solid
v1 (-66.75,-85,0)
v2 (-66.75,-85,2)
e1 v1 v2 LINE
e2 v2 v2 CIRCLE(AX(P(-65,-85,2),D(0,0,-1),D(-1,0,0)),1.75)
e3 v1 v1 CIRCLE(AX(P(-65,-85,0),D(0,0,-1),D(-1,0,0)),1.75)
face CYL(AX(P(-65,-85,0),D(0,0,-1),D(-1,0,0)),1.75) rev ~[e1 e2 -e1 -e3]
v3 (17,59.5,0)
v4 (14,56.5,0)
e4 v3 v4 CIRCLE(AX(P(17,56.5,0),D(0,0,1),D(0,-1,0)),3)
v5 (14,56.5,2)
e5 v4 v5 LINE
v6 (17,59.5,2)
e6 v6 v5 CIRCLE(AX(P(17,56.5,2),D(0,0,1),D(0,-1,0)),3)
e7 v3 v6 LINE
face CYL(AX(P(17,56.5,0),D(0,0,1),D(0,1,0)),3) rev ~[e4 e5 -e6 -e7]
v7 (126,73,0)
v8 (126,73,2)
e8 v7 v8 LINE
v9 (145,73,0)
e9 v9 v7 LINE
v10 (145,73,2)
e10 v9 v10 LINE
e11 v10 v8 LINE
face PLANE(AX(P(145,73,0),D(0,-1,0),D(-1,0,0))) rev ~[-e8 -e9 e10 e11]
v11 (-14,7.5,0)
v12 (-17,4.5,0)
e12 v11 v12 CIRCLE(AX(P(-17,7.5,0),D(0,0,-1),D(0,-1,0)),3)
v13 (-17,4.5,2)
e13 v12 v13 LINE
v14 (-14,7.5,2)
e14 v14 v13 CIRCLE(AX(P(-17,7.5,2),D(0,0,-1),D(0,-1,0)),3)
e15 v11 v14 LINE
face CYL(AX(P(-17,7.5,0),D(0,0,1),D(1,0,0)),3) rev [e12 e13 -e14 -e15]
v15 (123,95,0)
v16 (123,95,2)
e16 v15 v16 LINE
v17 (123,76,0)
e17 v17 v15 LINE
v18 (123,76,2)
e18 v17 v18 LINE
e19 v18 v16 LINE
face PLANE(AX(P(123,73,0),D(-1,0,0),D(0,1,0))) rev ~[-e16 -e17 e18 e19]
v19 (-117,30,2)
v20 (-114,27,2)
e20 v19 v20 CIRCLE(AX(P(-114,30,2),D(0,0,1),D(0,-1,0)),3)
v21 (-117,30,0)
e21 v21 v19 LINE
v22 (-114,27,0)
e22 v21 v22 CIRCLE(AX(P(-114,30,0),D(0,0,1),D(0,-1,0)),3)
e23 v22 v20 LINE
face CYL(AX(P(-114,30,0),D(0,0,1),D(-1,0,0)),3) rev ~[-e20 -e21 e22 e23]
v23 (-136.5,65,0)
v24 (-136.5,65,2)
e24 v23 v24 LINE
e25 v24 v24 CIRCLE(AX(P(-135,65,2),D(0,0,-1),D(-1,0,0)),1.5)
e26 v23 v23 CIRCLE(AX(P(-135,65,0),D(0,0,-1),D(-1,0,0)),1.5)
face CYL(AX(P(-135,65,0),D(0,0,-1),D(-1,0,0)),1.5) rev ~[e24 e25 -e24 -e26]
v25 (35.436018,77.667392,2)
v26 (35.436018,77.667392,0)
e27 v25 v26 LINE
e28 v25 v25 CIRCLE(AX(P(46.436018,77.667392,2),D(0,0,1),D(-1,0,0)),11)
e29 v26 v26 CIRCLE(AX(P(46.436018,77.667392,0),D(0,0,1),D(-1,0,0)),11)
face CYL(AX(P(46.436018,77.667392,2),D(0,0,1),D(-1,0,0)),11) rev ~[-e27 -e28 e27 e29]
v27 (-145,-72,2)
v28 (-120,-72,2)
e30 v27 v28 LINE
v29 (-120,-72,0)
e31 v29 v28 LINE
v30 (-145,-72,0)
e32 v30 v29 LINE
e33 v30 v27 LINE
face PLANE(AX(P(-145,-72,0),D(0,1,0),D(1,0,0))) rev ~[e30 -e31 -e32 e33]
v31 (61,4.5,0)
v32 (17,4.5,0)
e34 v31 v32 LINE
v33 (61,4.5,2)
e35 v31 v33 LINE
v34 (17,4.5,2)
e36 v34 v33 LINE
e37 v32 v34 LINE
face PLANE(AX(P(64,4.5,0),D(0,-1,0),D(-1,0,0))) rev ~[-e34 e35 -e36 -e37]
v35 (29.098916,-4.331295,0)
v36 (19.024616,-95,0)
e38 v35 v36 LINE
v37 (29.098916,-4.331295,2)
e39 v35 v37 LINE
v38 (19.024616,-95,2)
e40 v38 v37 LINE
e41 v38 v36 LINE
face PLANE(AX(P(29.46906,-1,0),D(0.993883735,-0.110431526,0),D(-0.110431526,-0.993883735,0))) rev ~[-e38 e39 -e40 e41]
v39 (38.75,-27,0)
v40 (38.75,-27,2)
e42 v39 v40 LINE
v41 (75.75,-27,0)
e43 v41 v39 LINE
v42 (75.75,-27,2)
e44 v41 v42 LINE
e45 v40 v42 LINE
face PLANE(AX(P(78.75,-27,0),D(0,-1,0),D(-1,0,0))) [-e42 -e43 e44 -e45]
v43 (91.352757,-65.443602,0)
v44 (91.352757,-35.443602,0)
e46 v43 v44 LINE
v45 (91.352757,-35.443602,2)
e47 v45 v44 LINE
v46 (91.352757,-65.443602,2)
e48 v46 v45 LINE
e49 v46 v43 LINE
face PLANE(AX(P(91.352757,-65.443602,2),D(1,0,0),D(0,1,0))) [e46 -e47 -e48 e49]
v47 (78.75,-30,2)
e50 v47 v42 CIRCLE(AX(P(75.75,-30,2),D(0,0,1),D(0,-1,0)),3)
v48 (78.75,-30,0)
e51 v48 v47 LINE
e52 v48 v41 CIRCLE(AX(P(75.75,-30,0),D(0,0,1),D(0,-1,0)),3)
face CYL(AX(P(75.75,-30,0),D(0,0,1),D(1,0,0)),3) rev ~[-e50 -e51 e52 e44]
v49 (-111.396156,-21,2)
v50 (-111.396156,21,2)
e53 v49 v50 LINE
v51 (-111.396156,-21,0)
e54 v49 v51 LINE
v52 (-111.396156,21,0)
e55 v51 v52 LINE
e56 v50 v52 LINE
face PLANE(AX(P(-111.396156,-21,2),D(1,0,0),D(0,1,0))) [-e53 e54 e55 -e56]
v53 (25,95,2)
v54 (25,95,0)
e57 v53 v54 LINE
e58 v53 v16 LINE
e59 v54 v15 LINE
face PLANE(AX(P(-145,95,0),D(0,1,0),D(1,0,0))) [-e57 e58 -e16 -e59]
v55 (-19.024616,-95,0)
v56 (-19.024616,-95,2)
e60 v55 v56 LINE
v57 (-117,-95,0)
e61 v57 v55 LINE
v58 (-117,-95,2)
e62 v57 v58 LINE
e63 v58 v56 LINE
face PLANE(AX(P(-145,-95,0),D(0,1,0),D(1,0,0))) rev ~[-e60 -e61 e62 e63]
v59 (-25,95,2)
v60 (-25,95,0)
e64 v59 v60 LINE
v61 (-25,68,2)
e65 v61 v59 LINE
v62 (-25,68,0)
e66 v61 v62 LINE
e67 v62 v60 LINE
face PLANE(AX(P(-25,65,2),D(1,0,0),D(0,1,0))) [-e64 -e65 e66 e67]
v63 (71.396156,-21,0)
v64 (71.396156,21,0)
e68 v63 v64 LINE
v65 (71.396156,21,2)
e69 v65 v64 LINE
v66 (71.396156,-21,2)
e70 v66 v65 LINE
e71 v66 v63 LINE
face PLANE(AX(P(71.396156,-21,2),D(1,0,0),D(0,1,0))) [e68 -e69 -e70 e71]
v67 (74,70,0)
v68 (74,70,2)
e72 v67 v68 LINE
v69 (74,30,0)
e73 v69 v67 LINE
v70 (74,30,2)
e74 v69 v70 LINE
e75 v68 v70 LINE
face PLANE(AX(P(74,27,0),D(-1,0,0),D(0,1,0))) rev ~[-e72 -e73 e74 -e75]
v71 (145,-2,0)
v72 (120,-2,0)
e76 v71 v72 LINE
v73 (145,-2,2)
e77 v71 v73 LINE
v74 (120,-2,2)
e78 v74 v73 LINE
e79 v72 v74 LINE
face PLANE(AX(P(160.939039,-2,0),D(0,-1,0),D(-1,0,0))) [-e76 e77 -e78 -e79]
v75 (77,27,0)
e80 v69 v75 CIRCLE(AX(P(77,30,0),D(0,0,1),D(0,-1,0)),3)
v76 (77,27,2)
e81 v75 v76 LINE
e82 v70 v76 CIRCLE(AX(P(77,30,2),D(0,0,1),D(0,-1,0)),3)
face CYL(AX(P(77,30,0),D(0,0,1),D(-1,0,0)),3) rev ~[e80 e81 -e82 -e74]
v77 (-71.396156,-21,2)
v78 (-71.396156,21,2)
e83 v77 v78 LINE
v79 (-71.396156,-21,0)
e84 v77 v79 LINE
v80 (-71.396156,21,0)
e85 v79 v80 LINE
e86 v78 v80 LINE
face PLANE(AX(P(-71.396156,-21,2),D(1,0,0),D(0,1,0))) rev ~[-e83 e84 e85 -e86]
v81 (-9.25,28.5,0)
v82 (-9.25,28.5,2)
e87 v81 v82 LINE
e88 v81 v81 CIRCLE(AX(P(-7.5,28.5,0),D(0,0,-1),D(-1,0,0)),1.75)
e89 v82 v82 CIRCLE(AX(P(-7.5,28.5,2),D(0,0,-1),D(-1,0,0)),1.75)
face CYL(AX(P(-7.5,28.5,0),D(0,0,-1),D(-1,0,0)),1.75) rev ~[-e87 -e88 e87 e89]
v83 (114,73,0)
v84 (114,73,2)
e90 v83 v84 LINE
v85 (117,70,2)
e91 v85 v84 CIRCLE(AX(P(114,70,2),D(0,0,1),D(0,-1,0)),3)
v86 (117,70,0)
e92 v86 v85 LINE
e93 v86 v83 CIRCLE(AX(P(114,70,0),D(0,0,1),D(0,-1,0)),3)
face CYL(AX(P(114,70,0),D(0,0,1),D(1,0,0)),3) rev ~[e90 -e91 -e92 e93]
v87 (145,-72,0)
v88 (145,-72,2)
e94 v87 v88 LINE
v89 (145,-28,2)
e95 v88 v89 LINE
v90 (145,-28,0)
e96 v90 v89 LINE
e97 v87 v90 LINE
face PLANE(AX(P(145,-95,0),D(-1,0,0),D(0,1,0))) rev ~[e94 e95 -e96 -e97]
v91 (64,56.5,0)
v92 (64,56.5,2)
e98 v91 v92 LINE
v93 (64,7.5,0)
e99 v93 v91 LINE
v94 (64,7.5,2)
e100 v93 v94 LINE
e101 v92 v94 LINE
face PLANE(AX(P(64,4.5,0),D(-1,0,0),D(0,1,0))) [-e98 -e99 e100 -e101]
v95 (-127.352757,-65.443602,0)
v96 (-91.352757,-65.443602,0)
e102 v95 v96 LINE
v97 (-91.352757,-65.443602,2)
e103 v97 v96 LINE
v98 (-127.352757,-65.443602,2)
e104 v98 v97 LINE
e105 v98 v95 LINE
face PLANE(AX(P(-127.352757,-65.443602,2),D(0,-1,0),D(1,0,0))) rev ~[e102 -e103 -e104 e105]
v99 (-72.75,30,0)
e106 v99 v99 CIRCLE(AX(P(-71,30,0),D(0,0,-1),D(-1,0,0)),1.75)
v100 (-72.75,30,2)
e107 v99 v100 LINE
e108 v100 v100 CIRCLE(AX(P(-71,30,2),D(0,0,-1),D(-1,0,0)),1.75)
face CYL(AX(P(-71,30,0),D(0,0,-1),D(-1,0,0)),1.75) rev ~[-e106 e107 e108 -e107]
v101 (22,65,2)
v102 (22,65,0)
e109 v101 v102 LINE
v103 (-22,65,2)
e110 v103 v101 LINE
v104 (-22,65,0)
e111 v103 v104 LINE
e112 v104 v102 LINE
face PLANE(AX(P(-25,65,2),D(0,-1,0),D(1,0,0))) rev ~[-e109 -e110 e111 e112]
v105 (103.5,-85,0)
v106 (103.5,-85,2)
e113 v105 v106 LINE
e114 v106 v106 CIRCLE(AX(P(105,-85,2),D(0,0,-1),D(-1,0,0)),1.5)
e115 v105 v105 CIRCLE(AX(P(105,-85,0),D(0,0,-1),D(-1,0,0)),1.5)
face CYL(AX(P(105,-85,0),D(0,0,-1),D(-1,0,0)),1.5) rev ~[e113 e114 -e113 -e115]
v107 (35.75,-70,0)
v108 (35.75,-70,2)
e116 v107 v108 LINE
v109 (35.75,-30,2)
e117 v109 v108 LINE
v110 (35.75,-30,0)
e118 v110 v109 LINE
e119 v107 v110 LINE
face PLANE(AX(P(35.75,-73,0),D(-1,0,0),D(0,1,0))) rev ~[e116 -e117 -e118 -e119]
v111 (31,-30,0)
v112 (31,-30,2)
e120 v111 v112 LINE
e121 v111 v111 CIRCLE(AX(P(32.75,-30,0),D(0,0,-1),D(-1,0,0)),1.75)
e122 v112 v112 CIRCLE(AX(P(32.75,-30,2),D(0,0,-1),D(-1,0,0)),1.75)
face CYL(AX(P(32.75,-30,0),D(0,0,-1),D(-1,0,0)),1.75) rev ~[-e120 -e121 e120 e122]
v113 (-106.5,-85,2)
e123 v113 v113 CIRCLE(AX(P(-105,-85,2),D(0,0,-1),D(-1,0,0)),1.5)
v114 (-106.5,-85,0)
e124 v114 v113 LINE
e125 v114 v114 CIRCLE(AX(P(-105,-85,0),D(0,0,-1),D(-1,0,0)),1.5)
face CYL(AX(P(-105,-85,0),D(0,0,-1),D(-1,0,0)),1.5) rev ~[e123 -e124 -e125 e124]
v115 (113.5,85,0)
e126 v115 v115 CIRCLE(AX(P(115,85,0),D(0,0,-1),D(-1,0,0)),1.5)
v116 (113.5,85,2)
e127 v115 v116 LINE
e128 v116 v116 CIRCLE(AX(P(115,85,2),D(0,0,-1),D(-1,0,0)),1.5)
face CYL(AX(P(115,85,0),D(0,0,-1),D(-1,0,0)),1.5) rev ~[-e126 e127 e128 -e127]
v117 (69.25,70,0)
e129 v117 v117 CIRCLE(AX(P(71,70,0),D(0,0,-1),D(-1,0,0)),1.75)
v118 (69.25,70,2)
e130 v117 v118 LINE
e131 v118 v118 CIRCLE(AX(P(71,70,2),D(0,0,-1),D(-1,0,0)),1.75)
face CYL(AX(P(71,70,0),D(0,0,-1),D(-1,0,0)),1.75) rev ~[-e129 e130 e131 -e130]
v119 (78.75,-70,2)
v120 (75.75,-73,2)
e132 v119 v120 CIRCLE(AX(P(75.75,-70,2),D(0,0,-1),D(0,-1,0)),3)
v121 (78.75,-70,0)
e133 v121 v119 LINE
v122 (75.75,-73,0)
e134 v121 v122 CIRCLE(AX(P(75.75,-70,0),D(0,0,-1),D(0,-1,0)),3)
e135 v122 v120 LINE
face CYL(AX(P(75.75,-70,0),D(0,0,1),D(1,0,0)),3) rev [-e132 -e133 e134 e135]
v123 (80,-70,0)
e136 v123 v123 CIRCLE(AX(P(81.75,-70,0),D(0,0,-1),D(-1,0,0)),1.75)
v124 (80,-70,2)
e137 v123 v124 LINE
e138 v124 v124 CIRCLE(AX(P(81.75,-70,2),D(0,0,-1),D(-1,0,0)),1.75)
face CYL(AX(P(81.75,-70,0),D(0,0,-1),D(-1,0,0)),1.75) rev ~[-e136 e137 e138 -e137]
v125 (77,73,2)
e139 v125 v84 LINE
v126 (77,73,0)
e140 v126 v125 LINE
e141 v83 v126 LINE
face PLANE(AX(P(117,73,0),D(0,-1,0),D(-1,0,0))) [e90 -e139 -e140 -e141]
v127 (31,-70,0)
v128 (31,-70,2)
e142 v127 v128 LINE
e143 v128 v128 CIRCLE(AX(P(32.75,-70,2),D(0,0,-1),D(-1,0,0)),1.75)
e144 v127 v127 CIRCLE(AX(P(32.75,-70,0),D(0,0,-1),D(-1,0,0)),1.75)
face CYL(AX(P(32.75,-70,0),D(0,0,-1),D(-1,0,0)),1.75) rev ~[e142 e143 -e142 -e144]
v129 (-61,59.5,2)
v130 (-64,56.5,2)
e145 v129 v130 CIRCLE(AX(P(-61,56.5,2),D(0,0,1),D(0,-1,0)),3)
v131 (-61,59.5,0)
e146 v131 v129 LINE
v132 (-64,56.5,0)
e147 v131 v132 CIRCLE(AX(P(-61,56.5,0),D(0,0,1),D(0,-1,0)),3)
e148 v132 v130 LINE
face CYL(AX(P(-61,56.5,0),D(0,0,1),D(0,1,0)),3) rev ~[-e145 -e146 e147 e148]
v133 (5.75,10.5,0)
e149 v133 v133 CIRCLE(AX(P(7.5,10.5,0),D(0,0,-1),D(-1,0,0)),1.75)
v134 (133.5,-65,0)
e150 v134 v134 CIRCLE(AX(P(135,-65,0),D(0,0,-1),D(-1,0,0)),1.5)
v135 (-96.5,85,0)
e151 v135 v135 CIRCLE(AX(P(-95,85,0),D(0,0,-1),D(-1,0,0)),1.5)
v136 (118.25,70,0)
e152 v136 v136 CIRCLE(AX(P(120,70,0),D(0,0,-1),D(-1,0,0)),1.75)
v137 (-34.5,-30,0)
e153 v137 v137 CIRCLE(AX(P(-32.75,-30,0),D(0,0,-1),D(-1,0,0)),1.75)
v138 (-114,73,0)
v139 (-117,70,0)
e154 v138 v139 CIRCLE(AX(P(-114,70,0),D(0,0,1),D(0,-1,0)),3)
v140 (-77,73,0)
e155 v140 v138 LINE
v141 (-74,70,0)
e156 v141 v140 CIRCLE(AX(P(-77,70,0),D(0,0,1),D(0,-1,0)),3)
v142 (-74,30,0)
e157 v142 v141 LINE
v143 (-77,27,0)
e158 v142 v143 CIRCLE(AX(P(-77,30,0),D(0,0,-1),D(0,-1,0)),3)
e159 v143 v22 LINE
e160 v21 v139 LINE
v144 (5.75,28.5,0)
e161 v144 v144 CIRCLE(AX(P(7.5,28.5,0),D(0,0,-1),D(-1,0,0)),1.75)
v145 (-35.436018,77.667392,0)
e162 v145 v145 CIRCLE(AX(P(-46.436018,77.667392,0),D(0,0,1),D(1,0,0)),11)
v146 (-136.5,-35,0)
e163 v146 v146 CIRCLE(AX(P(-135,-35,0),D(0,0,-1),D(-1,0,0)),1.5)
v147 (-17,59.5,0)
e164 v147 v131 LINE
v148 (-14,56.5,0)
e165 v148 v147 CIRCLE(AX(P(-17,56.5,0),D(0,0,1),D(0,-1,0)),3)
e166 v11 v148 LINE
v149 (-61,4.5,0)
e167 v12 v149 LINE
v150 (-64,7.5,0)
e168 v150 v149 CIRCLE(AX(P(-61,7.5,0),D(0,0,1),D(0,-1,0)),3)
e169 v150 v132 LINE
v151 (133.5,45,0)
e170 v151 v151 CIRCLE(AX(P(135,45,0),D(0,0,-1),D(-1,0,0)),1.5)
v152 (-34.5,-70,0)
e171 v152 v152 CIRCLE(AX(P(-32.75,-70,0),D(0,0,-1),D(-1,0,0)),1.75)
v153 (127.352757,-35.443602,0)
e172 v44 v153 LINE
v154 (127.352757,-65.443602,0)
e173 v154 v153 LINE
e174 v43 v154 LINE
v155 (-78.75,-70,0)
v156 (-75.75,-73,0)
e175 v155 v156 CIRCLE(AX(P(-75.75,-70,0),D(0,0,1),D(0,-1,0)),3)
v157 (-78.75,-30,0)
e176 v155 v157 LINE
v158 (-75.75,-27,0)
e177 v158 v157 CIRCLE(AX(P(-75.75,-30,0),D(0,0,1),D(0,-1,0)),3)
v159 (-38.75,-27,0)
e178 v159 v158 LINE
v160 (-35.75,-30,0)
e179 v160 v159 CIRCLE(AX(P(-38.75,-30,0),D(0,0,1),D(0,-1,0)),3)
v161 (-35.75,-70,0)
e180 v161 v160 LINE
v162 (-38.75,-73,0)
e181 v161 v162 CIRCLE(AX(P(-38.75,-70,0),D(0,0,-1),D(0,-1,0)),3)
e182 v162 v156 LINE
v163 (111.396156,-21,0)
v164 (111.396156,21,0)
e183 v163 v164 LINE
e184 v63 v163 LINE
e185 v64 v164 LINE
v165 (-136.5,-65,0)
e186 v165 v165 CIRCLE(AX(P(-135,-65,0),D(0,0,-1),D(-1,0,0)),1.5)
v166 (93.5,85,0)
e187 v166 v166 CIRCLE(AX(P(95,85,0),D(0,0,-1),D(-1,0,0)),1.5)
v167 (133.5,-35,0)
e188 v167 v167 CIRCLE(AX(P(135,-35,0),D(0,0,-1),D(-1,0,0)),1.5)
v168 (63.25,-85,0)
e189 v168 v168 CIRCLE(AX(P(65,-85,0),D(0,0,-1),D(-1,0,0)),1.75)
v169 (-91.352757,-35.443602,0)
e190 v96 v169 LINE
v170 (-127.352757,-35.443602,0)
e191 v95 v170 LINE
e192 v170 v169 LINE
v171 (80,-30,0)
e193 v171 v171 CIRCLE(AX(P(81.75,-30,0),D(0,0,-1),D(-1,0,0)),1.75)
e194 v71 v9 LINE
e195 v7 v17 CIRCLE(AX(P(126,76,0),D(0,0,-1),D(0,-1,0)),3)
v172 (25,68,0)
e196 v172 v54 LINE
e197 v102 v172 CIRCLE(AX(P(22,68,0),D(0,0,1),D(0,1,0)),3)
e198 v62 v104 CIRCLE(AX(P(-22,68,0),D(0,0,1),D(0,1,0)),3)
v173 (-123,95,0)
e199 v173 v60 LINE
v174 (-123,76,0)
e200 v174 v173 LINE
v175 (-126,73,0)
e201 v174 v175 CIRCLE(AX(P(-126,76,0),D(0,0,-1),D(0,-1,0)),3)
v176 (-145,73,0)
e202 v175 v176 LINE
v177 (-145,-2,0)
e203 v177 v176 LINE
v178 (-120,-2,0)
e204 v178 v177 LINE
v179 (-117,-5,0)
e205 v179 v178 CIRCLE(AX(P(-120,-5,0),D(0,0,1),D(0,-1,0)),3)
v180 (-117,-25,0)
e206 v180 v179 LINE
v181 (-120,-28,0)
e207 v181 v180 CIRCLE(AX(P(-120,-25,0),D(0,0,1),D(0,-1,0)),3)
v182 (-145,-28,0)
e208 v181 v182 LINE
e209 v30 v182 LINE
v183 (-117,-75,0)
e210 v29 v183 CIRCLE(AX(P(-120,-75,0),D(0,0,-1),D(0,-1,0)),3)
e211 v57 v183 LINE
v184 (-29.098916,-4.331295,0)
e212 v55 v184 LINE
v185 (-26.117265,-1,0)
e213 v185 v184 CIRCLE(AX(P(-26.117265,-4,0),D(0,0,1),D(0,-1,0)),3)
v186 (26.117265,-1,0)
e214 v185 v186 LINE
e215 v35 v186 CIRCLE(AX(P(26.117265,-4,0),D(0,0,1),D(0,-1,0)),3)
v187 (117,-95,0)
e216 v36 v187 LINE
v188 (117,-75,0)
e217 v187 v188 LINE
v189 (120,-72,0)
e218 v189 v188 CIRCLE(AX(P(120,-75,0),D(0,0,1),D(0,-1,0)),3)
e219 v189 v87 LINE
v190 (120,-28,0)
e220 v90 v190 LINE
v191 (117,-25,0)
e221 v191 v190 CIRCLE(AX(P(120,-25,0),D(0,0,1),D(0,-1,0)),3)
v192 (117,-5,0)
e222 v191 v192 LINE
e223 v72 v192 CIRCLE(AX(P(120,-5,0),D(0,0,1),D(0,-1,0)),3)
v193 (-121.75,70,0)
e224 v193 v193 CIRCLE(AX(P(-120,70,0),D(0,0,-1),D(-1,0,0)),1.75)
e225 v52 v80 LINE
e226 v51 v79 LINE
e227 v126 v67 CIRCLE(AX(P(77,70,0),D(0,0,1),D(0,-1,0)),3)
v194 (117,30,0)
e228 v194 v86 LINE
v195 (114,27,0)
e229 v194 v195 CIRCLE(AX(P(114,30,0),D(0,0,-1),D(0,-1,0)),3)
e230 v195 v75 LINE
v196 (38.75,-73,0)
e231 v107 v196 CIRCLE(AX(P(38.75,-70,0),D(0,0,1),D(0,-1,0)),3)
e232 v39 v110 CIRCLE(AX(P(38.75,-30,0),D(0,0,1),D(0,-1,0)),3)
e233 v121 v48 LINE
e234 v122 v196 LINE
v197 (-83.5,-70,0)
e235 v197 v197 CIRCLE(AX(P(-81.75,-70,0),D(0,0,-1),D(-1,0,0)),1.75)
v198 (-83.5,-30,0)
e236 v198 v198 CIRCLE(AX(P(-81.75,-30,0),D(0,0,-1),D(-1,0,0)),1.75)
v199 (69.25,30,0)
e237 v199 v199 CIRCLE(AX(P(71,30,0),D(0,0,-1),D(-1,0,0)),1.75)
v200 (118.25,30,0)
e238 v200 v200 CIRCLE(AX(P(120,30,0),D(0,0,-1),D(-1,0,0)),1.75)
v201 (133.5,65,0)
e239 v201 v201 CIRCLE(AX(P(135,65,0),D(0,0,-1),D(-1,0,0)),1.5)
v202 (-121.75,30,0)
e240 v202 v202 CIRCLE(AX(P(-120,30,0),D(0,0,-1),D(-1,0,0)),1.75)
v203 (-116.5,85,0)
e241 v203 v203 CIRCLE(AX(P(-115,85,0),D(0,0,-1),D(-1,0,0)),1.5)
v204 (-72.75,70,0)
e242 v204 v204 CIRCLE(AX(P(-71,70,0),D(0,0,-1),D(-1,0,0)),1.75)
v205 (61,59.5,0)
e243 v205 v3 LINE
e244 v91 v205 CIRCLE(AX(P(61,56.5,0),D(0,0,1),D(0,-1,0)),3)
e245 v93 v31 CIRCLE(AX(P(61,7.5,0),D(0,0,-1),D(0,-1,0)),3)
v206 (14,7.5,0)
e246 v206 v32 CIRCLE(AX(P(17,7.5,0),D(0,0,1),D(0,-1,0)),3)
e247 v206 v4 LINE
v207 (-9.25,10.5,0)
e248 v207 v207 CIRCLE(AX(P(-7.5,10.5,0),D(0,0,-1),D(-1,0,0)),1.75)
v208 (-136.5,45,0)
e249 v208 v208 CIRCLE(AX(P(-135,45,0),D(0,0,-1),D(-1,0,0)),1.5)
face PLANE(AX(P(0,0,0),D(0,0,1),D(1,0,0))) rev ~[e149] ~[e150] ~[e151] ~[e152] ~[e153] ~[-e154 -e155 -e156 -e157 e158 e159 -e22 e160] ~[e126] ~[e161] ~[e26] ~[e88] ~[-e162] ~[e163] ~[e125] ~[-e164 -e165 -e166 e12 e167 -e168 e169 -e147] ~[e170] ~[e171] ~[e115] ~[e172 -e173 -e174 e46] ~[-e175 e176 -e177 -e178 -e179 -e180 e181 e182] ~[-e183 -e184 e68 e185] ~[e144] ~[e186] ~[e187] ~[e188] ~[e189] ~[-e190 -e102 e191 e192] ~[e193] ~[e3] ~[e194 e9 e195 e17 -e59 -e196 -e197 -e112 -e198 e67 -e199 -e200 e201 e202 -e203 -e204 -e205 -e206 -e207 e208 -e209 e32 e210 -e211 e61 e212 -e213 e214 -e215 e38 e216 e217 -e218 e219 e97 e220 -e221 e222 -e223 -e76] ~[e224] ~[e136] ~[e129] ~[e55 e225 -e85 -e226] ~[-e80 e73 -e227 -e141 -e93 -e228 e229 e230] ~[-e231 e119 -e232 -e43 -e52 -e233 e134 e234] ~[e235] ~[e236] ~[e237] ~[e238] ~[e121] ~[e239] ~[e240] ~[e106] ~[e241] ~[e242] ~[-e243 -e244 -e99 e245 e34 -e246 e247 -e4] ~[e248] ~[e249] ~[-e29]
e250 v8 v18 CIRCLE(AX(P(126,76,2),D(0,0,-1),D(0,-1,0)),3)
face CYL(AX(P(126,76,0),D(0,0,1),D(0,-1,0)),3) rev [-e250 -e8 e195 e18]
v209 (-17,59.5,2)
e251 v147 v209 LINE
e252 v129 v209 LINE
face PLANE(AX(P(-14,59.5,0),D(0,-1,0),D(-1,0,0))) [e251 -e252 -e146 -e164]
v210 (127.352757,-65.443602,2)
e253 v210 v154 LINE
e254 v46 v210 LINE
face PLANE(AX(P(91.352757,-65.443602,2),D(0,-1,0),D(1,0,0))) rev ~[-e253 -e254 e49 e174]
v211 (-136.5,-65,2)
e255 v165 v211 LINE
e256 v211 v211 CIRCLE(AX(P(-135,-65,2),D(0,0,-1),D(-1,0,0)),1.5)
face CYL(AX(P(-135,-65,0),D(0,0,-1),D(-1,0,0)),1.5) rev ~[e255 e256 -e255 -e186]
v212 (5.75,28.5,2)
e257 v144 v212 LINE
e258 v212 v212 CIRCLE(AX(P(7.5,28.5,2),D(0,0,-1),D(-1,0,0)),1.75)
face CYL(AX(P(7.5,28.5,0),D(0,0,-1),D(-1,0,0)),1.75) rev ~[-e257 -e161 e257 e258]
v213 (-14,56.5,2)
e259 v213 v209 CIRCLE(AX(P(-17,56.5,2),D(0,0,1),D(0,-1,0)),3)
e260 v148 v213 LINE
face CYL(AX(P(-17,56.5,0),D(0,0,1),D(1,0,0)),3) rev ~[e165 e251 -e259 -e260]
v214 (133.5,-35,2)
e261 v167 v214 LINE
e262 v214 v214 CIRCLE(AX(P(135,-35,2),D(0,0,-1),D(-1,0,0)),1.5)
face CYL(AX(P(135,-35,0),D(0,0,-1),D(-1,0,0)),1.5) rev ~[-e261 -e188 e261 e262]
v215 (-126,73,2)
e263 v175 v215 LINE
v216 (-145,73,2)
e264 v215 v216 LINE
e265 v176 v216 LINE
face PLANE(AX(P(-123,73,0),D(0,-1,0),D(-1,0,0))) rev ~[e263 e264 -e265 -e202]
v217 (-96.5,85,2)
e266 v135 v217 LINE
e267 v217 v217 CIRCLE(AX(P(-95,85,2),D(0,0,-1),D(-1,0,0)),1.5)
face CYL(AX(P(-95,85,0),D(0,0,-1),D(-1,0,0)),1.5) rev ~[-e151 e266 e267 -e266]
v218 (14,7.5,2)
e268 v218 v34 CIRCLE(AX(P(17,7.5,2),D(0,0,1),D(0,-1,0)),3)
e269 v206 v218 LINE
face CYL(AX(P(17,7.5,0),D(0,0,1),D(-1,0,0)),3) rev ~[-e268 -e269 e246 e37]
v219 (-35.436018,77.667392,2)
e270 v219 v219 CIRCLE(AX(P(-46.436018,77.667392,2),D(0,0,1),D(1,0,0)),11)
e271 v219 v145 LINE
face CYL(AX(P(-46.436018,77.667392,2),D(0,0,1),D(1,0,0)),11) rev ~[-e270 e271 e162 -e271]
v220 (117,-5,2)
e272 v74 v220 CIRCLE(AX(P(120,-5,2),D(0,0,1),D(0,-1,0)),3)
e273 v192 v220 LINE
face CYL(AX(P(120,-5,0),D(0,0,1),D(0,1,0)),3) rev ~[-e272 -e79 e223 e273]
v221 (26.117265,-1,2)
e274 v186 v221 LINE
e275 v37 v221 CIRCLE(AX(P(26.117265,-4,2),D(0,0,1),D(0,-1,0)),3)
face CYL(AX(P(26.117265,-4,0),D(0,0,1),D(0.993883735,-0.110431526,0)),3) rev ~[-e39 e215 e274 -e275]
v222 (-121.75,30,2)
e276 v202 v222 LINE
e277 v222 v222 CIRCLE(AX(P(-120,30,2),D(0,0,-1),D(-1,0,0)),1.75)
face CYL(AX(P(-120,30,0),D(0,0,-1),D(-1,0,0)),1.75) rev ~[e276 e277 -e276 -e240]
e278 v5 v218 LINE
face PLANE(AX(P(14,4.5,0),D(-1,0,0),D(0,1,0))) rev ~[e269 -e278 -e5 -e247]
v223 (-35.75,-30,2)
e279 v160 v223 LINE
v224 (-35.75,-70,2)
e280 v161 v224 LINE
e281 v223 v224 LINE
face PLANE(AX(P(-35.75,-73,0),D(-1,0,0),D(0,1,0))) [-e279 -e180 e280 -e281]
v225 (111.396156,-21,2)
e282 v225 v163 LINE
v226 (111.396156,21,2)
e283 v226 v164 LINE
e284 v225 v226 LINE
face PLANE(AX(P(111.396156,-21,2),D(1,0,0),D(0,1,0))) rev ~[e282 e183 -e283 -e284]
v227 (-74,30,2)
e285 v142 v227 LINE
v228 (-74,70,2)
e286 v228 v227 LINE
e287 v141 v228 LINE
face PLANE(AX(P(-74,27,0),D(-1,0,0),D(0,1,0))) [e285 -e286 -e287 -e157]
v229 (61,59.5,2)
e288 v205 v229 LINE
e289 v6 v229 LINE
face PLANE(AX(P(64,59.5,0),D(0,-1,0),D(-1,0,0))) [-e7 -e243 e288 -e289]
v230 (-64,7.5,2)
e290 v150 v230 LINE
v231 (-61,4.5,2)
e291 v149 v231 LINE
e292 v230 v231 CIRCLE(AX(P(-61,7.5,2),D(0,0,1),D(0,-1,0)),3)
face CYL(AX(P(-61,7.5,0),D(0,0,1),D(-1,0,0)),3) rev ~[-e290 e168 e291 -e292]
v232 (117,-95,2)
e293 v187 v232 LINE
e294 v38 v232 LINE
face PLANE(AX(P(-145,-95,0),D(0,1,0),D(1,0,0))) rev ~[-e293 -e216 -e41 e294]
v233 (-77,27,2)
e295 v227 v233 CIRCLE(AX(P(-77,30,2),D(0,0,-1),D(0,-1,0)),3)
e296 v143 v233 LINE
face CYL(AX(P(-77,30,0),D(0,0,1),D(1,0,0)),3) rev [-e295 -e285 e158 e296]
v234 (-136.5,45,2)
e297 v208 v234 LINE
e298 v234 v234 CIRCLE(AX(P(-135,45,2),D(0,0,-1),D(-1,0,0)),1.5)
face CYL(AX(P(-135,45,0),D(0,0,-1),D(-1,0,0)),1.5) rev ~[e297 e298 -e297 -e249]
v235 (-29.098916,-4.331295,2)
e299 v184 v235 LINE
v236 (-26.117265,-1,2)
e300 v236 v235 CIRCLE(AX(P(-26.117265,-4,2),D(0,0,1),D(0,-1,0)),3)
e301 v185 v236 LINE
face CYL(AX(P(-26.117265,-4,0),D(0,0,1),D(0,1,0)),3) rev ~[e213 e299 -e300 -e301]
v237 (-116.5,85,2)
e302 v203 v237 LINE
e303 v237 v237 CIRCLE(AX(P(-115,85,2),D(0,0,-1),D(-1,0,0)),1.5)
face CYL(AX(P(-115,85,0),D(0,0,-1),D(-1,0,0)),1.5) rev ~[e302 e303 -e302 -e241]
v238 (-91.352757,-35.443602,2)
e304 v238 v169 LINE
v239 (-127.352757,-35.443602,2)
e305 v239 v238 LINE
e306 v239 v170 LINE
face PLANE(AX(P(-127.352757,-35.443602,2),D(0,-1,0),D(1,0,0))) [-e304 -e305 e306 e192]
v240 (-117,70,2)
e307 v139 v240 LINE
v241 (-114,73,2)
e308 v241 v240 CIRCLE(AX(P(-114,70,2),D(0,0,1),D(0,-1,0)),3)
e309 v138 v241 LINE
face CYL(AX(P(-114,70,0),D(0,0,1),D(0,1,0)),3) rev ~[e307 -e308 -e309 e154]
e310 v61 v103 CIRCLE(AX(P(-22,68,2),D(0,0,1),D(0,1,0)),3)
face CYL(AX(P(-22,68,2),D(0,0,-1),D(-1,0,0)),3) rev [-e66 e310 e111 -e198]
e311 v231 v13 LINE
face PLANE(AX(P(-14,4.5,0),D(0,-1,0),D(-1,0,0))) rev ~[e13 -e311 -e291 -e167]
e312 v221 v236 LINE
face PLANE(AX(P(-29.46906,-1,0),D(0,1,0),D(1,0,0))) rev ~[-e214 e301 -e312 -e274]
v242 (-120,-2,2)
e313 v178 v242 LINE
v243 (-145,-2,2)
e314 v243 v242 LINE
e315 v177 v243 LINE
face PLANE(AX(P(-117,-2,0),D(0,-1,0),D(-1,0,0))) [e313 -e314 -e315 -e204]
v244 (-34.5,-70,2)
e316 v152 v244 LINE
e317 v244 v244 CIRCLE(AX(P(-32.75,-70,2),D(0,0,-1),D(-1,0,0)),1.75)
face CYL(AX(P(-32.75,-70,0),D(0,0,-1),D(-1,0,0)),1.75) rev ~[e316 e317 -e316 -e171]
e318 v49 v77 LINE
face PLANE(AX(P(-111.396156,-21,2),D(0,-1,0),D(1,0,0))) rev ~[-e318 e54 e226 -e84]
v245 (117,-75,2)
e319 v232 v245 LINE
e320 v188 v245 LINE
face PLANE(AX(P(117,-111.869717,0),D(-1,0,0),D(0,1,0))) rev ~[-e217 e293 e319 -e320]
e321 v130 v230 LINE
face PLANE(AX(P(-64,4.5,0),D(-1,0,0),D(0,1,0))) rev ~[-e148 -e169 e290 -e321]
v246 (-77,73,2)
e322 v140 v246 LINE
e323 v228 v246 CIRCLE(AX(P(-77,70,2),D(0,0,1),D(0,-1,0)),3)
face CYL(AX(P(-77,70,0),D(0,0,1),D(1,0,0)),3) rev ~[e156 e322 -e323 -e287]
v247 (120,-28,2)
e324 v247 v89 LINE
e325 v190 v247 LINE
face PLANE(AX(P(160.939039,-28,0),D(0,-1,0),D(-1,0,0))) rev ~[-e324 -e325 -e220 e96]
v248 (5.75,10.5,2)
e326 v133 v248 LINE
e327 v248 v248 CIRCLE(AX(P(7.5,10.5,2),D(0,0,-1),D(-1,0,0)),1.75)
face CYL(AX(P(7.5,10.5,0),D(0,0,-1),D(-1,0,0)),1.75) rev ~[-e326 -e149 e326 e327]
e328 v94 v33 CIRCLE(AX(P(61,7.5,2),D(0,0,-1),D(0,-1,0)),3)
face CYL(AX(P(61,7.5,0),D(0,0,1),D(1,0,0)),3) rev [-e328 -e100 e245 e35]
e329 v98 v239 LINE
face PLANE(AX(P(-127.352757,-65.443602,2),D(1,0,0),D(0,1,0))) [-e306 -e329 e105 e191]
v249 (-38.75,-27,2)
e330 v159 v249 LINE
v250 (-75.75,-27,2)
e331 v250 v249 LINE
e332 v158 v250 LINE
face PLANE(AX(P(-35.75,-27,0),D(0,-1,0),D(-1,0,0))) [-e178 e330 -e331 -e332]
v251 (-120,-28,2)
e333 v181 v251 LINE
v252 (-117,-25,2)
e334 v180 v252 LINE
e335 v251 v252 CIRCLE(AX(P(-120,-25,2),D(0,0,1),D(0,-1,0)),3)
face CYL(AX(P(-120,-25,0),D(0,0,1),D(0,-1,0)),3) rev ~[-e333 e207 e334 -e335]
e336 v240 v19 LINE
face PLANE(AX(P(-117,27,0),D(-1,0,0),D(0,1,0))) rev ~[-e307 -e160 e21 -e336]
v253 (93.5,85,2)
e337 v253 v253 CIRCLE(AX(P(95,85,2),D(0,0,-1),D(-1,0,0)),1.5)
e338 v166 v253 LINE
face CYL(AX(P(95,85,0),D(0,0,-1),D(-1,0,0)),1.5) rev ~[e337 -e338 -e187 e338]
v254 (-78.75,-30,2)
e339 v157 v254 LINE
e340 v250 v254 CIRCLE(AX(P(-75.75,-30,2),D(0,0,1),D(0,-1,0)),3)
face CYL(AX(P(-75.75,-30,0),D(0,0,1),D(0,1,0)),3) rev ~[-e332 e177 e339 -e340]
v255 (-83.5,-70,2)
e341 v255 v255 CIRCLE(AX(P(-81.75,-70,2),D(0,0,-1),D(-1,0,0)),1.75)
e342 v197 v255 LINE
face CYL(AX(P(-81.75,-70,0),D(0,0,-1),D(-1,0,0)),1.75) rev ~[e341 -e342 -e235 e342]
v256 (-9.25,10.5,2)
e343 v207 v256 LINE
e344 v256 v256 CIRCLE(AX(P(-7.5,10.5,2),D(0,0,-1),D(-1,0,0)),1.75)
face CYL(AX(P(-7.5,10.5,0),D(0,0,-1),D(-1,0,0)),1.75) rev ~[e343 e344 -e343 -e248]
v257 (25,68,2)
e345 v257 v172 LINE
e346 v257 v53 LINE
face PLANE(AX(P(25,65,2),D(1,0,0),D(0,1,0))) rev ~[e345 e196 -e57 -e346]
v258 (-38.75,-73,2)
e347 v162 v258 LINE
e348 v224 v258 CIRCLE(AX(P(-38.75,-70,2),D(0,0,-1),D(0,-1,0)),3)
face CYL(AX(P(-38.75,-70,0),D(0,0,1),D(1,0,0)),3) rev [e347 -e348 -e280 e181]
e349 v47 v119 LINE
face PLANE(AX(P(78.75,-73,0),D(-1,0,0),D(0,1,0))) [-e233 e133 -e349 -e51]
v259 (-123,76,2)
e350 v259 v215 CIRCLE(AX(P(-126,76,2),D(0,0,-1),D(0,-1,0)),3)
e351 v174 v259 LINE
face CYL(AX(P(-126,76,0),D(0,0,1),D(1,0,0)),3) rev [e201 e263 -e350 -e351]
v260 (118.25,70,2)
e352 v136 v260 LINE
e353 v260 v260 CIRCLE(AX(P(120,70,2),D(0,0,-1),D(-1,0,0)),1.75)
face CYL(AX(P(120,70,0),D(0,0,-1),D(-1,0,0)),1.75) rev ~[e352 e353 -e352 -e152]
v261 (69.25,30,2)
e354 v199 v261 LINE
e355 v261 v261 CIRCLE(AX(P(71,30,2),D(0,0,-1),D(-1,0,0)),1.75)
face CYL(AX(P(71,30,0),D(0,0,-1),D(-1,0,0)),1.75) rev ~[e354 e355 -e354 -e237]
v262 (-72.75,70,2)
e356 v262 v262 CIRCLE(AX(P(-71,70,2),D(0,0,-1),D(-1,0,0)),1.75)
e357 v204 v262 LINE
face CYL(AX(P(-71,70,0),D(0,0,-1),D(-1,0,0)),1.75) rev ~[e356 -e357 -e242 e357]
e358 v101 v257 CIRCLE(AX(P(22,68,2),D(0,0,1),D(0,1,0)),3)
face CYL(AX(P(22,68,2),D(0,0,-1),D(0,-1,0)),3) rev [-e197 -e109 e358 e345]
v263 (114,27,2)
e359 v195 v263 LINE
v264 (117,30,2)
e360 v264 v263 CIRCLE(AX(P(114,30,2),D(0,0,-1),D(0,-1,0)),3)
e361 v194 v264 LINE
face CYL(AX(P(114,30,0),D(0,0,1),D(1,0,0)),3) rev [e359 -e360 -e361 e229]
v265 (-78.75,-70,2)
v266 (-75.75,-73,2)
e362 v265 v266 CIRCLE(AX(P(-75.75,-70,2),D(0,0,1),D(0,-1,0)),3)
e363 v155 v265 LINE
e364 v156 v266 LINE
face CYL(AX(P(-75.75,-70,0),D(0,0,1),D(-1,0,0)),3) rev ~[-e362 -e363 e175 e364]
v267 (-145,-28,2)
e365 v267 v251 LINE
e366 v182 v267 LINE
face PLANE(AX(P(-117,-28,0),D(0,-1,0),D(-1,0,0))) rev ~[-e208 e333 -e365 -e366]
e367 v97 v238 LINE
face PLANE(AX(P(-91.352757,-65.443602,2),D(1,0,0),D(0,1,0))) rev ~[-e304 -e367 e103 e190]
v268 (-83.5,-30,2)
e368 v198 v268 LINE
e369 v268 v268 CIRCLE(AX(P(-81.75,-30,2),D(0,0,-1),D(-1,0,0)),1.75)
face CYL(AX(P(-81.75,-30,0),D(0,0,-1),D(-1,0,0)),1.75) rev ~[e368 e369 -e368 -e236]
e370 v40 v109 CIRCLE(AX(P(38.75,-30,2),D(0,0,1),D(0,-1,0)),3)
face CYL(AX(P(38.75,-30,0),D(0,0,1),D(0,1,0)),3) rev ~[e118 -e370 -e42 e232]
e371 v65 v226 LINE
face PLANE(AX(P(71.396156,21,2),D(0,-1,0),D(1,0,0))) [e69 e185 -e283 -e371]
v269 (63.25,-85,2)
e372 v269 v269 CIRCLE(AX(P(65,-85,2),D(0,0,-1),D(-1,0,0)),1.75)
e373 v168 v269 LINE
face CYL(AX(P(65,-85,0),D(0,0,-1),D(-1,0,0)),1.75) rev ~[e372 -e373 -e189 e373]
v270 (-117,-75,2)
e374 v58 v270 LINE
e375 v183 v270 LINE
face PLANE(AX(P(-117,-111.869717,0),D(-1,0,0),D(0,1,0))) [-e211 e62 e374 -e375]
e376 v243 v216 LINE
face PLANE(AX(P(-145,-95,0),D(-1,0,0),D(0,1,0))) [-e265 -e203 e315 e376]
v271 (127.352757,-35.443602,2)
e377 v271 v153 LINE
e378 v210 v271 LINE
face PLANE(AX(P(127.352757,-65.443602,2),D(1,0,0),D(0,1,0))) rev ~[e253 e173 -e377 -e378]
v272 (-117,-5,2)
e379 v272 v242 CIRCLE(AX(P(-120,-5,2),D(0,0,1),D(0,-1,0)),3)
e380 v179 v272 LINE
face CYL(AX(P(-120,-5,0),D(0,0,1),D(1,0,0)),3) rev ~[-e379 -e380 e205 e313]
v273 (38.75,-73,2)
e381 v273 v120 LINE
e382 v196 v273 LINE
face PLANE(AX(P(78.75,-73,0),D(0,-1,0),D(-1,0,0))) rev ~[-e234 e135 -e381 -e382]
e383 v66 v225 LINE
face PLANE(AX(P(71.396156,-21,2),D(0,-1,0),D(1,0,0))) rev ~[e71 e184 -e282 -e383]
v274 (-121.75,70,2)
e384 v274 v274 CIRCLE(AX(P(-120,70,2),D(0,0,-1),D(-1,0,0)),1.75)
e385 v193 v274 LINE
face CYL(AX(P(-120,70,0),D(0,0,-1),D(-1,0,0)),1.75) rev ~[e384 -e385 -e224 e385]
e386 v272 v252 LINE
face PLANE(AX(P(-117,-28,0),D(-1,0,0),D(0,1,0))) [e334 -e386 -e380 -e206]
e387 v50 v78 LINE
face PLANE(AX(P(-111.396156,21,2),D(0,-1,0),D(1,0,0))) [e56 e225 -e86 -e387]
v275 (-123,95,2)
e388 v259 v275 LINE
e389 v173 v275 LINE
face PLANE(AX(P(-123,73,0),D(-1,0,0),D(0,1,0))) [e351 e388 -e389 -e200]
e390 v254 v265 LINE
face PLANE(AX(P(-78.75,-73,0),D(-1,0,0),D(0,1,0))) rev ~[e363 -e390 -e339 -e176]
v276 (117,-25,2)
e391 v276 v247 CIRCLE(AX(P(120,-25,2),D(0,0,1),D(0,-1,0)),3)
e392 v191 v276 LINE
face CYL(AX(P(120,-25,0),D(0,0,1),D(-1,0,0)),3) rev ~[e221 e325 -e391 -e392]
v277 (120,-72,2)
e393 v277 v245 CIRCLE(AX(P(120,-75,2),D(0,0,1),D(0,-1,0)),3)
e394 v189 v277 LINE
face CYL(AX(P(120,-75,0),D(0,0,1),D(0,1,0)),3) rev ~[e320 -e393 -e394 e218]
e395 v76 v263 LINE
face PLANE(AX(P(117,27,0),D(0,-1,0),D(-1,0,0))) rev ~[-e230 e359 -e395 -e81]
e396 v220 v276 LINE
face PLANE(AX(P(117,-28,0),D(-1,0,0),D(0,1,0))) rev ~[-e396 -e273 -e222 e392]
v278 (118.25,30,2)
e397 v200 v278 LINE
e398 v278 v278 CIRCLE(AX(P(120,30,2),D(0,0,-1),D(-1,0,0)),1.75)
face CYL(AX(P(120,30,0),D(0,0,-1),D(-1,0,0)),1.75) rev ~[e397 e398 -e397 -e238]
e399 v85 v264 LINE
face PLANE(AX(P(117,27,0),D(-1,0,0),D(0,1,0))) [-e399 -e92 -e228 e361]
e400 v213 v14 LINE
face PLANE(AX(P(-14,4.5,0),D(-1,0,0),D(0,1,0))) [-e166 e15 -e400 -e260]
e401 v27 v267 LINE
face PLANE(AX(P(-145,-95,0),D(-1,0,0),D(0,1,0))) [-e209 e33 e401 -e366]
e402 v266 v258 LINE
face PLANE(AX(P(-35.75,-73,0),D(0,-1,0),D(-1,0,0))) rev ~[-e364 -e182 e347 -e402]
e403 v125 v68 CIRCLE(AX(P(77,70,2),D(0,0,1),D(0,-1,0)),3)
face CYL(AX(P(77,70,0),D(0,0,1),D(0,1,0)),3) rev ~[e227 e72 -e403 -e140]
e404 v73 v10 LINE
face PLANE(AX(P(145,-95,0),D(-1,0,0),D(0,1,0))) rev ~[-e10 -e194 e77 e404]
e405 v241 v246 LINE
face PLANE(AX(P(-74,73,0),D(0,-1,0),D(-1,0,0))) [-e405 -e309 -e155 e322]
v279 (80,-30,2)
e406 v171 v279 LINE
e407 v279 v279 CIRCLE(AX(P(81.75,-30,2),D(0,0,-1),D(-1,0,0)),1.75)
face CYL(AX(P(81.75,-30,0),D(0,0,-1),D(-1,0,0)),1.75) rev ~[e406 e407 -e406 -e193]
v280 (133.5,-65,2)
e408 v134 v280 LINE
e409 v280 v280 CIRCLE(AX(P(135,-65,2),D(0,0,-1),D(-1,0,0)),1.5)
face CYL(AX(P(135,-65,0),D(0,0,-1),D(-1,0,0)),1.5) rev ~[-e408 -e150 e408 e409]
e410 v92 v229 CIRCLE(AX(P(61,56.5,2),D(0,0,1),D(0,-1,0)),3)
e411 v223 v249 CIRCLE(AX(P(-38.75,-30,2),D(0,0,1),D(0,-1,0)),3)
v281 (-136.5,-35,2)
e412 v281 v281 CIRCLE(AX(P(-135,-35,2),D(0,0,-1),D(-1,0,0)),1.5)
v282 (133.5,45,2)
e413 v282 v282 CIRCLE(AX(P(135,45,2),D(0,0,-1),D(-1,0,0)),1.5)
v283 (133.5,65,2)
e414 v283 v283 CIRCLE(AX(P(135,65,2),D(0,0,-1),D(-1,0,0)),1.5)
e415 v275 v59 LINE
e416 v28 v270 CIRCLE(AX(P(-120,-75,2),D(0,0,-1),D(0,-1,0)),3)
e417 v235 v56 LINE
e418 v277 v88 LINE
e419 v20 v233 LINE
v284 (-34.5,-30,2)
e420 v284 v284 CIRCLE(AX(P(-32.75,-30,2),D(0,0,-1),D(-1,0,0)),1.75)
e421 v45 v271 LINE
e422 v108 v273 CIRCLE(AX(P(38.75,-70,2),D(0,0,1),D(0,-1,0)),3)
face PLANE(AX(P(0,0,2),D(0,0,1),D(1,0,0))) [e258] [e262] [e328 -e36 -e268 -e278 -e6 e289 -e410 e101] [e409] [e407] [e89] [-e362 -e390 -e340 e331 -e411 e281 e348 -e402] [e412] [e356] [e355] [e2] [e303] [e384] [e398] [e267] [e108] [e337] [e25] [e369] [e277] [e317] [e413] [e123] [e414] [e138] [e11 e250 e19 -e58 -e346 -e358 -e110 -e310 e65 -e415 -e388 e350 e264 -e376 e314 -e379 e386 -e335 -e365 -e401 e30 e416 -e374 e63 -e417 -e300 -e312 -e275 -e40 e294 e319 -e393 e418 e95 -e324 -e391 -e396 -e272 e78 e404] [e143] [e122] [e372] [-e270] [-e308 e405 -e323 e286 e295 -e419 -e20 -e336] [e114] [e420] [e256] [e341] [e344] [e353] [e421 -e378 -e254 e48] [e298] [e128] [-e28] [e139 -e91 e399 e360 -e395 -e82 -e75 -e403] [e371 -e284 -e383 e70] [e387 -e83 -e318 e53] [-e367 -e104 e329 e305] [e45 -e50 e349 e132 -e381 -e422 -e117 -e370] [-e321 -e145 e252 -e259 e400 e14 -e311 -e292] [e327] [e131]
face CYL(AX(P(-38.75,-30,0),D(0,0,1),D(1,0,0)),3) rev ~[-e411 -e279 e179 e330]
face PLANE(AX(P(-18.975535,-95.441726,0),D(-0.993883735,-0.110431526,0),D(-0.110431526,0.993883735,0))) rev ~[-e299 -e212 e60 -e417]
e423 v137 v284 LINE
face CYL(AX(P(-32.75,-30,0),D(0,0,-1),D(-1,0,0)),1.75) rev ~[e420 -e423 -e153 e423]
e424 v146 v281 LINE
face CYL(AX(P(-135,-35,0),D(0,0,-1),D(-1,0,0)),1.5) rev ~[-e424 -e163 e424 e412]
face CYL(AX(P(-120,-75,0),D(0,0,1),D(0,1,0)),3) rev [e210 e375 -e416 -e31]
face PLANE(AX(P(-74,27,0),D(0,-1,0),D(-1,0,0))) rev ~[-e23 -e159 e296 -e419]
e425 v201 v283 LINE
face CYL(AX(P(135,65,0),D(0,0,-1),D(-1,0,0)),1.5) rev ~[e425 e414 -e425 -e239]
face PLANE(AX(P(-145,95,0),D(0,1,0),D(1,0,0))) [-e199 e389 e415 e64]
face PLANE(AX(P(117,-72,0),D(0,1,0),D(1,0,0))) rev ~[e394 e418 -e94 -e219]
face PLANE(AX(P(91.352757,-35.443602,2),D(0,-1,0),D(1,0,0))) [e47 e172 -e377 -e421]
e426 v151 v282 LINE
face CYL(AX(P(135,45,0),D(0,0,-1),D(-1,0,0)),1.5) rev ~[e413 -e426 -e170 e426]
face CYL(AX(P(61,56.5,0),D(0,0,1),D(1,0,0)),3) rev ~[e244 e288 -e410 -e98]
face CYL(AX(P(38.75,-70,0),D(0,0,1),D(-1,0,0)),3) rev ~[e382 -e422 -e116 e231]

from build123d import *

# Parameters (mm, degrees)
SKETCH_1_W           = 290
SKETCH_1_H           = 190
EXTRUDE_1_DEPTH      = 2
SKETCH_2_W           = 22
SKETCH_2_H           = 22
CUT_EXTRUDE_1_DEPTH  = 2
FILLET_2_R           = 3
FILLET_3_R           = 3
SKETCH_3_W           = 50
SKETCH_3_H           = 30
CUT_EXTRUDE_2_DEPTH  = 10
FILLET_4_R           = 3
CUT_EXTRUDE_3_DEPTH  = 10
FILLET_5_R           = 3
SKETCH_5_R           = 1.75
SKETCH_5_R_2         = 1.5
CUT_EXTRUDE_4_DEPTH  = 10
SKETCH_6_W           = 38.367930324
SKETCH_6_H           = 26
SKETCH_6_W_2         = 43.939038981
CUT_EXTRUDE_5_DEPTH  = 10
FILLET_6_R           = 3
SKETCH_7_R           = 1.75
CUT_EXTRUDE_6_DEPTH  = 10
SKETCH_8_W           = 43
SKETCH_8_H           = 46
CUT_EXTRUDE_7_DEPTH  = 10
FILLET_7_R           = 3
SKETCH_10_R          = 11
SKETCH_10_W          = 40
SKETCH_10_H          = 42
SKETCH_10_W_2        = 36
SKETCH_10_H_2        = 30
CUT_EXTRUDE_9_DEPTH  = 10
SKETCH_11_R          = 1.75
CUT_EXTRUDE_10_DEPTH = 10
SKETCH_9_W           = 50
SKETCH_9_H           = 55
CUT_EXTRUDE_11_DEPTH = 10
FILLET_8_R           = 3


with BuildPart() as part:
    # 草图1 → 凸台-拉伸1 (new body)
    with BuildSketch(Plane.XY):
        Rectangle(SKETCH_1_W, SKETCH_1_H)
    extrude(amount=EXTRUDE_1_DEPTH)

    # 草图2 → 切除-拉伸1 (cut)
    with BuildSketch(Plane(origin=(0, 0, 0), x_dir=(-1, 0, 0), z_dir=(0, 0, -1))):
        with Locations((-134, 84)):
            Rectangle(SKETCH_2_W, SKETCH_2_H)
        with Locations((134, 84)):
            Rectangle(SKETCH_2_W, SKETCH_2_H)
        Polygon((-125, -72), (-145, -72), (-145, -111.869716796), (-117, -111.869716796), (-117, -72), align=None)
        Polygon((117, -72), (125, -72), (145, -72), (145, -111.869716796), (117, -111.869716796), align=None)
    extrude(amount=-CUT_EXTRUDE_1_DEPTH, mode=Mode.SUBTRACT)

    # 圆角2
    fillet_2_edges = [part.edges().sort_by_distance(p)[0] for p in [
        (117, -72, 1),
        (-117, -72, 1),
    ]]
    fillet(fillet_2_edges, radius=FILLET_2_R)

    # 圆角3
    fillet_3_edges = [part.edges().sort_by_distance(p)[0] for p in [
        (-123, 73, 1),
        (123, 73, 1),
    ]]
    fillet(fillet_3_edges, radius=FILLET_3_R)

    # 草图3 → 切除-拉伸2 (cut)
    with BuildSketch(Plane.XY.offset(2)):
        with Locations((0, 80)):
            Rectangle(SKETCH_3_W, SKETCH_3_H)
    extrude(amount=-CUT_EXTRUDE_2_DEPTH, mode=Mode.SUBTRACT)

    # 圆角4
    fillet_4_edges = [part.edges().sort_by_distance(p)[0] for p in [
        (25, 65, 1),
        (-25, 65, 1),
    ]]
    fillet(fillet_4_edges, radius=FILLET_4_R)

    # 草图4 → 切除-拉伸3 (cut)
    with BuildSketch(Plane(origin=(0, 0, 0), x_dir=(-1, 0, 0), z_dir=(0, 0, -1))):
        Polygon((18.975534939, -95.441726104), (29.469060061, -1), (-29.469060061, -1), (-18.975534939, -95.441726104), align=None)
    extrude(amount=-CUT_EXTRUDE_3_DEPTH, mode=Mode.SUBTRACT)

    # 圆角5
    fillet_5_edges = [part.edges().sort_by_distance(p)[0] for p in [
        (29.469060061, -1, 1),
        (-29.469060061, -1, 1),
    ]]
    fillet(fillet_5_edges, radius=FILLET_5_R)

    # 草图5 → 切除-拉伸4 (cut)
    with BuildSketch(Plane(origin=(0, 0, 0), x_dir=(-1, 0, 0), z_dir=(0, 0, -1))):
        with Locations((65, -85)):
            Circle(SKETCH_5_R)
        with Locations((105, -85)):
            Circle(SKETCH_5_R_2)
        with Locations((135, -35)):
            Circle(SKETCH_5_R_2)
        with Locations((-65, -85)):
            Circle(SKETCH_5_R)
        with Locations((-135, -65)):
            Circle(SKETCH_5_R_2)
        with Locations((-135, -35)):
            Circle(SKETCH_5_R_2)
        with Locations((-135, 45)):
            Circle(SKETCH_5_R_2)
        with Locations((-135, 65)):
            Circle(SKETCH_5_R_2)
        with Locations((-115, 85)):
            Circle(SKETCH_5_R_2)
        with Locations((-95, 85)):
            Circle(SKETCH_5_R_2)
        with Locations((95, 85)):
            Circle(SKETCH_5_R_2)
        with Locations((115, 85)):
            Circle(SKETCH_5_R_2)
        with Locations((135, 65)):
            Circle(SKETCH_5_R_2)
        with Locations((135, 45)):
            Circle(SKETCH_5_R_2)
        with Locations((135, -65)):
            Circle(SKETCH_5_R_2)
        with Locations((-105, -85)):
            Circle(SKETCH_5_R_2)
    extrude(amount=-CUT_EXTRUDE_4_DEPTH, mode=Mode.SUBTRACT)

    # 草图6 → 切除-拉伸5 (cut)
    with BuildSketch(Plane(origin=(0, 0, 0), x_dir=(-1, 0, 0), z_dir=(0, 0, -1))):
        with Locations((136.183965162, -15)):
            Rectangle(SKETCH_6_W, SKETCH_6_H)
        with Locations((-138.969519491, -15)):
            Rectangle(SKETCH_6_W_2, SKETCH_6_H)
    extrude(amount=-CUT_EXTRUDE_5_DEPTH, mode=Mode.SUBTRACT)

    # 圆角6
    fillet_6_edges = [part.edges().sort_by_distance(p)[0] for p in [
        (117, -2, 1),
        (117, -28, 1),
        (-117, -28, 1),
        (-117, -2, 1),
    ]]
    fillet(fillet_6_edges, radius=FILLET_6_R)

    # 草图7 → 切除-拉伸6 (cut)
    with BuildSketch(Plane(origin=(0, 0, 0), x_dir=(-1, 0, 0), z_dir=(0, 0, -1))):
        with Locations((81.75, -70)):
            Circle(SKETCH_7_R)
        with Locations((32.75, -70)):
            Circle(SKETCH_7_R)
        with Locations((32.75, -30)):
            Circle(SKETCH_7_R)
        with Locations((81.75, -30)):
            Circle(SKETCH_7_R)
        with Locations((-81.75, -70)):
            Circle(SKETCH_7_R)
        with Locations((-32.75, -70)):
            Circle(SKETCH_7_R)
        with Locations((-32.75, -30)):
            Circle(SKETCH_7_R)
        with Locations((-81.75, -30)):
            Circle(SKETCH_7_R)
        with Locations((-120, 30)):
            Circle(SKETCH_7_R)
        with Locations((-120, 70)):
            Circle(SKETCH_7_R)
        with Locations((-71, 70)):
            Circle(SKETCH_7_R)
        with Locations((-71, 30)):
            Circle(SKETCH_7_R)
        with Locations((71, 70)):
            Circle(SKETCH_7_R)
        with Locations((120, 30)):
            Circle(SKETCH_7_R)
        with Locations((71, 30)):
            Circle(SKETCH_7_R)
        with Locations((120, 70)):
            Circle(SKETCH_7_R)
    extrude(amount=-CUT_EXTRUDE_6_DEPTH, mode=Mode.SUBTRACT)

    # 草图8 → 切除-拉伸7 (cut)
    with BuildSketch(Plane(origin=(0, 0, 0), x_dir=(-1, 0, 0), z_dir=(0, 0, -1))):
        with Locations((-95.5, 50)):
            Rectangle(SKETCH_8_W, SKETCH_8_H)
        with Locations((-57.25, -50)):
            Rectangle(SKETCH_8_W, SKETCH_8_H)
        with Locations((57.25, -50)):
            Rectangle(SKETCH_8_W, SKETCH_8_H)
        with Locations((95.5, 50)):
            Rectangle(SKETCH_8_W, SKETCH_8_H)
    extrude(amount=-CUT_EXTRUDE_7_DEPTH, mode=Mode.SUBTRACT)

    # 圆角7
    fillet_7_edges = [part.edges().sort_by_distance(p)[0] for p in [
        (-117, 73, 1),
        (-117, 27, 1),
        (-74, 27, 1),
        (-74, 73, 1),
        (-78.75, -27, 1),
        (-78.75, -73, 1),
        (-35.75, -73, 1),
        (-35.75, -27, 1),
        (35.75, -27, 1),
        (35.75, -73, 1),
        (78.75, -73, 1),
        (78.75, -27, 1),
        (74, 73, 1),
        (74, 27, 1),
        (117, 27, 1),
        (117, 73, 1),
    ]]
    fillet(fillet_7_edges, radius=FILLET_7_R)

    # 草图10 → 切除-拉伸9 (cut)
    with BuildSketch(Plane.XY.offset(2)):
        with Locations((-46.436017542, 77.667392483)):
            Circle(SKETCH_10_R)
        with Locations(Location((46.436017542, 77.667392483, 0), (0, 0, 180))):
            Circle(SKETCH_10_R)
        with Locations((91.396155993, 0)):
            Rectangle(SKETCH_10_W, SKETCH_10_H)
        with Locations((-91.396155993, 0)):
            Rectangle(SKETCH_10_W, SKETCH_10_H)
        with Locations((-109.352757312, -50.443602375)):
            Rectangle(SKETCH_10_W_2, SKETCH_10_H_2)
        with Locations((109.352757312, -50.443602375)):
            Rectangle(SKETCH_10_W_2, SKETCH_10_H_2)
    extrude(amount=-CUT_EXTRUDE_9_DEPTH, mode=Mode.SUBTRACT)

    # 草图11 → 切除-拉伸10 (cut)
    with BuildSketch(Plane(origin=(0, 0, 0), x_dir=(-1, 0, 0), z_dir=(0, 0, -1))):
        with Locations((7.5, 10.5)):
            Circle(SKETCH_11_R)
        with Locations((-7.5, 10.5)):
            Circle(SKETCH_11_R)
        with Locations((7.5, 28.5)):
            Circle(SKETCH_11_R)
        with Locations((-7.5, 28.5)):
            Circle(SKETCH_11_R)
    extrude(amount=-CUT_EXTRUDE_10_DEPTH, mode=Mode.SUBTRACT)

    # 草图9 → 切除-拉伸11 (cut)
    with BuildSketch(Plane(origin=(0, 0, 0), x_dir=(-1, 0, 0), z_dir=(0, 0, -1))):
        with Locations((-39, 32)):
            Rectangle(SKETCH_9_W, SKETCH_9_H)
        with Locations((39, 32)):
            Rectangle(SKETCH_9_W, SKETCH_9_H)
    extrude(amount=-CUT_EXTRUDE_11_DEPTH, mode=Mode.SUBTRACT)

    # 圆角8
    fillet_8_edges = [part.edges().sort_by_distance(p)[0] for p in [
        (14, 59.5, 1),
        (14, 4.5, 1),
        (64, 4.5, 1),
        (64, 59.5, 1),
        (-64, 59.5, 1),
        (-64, 4.5, 1),
        (-14, 4.5, 1),
        (-14, 59.5, 1),
    ]]
    fillet(fillet_8_edges, radius=FILLET_8_R)


solid = part.part
